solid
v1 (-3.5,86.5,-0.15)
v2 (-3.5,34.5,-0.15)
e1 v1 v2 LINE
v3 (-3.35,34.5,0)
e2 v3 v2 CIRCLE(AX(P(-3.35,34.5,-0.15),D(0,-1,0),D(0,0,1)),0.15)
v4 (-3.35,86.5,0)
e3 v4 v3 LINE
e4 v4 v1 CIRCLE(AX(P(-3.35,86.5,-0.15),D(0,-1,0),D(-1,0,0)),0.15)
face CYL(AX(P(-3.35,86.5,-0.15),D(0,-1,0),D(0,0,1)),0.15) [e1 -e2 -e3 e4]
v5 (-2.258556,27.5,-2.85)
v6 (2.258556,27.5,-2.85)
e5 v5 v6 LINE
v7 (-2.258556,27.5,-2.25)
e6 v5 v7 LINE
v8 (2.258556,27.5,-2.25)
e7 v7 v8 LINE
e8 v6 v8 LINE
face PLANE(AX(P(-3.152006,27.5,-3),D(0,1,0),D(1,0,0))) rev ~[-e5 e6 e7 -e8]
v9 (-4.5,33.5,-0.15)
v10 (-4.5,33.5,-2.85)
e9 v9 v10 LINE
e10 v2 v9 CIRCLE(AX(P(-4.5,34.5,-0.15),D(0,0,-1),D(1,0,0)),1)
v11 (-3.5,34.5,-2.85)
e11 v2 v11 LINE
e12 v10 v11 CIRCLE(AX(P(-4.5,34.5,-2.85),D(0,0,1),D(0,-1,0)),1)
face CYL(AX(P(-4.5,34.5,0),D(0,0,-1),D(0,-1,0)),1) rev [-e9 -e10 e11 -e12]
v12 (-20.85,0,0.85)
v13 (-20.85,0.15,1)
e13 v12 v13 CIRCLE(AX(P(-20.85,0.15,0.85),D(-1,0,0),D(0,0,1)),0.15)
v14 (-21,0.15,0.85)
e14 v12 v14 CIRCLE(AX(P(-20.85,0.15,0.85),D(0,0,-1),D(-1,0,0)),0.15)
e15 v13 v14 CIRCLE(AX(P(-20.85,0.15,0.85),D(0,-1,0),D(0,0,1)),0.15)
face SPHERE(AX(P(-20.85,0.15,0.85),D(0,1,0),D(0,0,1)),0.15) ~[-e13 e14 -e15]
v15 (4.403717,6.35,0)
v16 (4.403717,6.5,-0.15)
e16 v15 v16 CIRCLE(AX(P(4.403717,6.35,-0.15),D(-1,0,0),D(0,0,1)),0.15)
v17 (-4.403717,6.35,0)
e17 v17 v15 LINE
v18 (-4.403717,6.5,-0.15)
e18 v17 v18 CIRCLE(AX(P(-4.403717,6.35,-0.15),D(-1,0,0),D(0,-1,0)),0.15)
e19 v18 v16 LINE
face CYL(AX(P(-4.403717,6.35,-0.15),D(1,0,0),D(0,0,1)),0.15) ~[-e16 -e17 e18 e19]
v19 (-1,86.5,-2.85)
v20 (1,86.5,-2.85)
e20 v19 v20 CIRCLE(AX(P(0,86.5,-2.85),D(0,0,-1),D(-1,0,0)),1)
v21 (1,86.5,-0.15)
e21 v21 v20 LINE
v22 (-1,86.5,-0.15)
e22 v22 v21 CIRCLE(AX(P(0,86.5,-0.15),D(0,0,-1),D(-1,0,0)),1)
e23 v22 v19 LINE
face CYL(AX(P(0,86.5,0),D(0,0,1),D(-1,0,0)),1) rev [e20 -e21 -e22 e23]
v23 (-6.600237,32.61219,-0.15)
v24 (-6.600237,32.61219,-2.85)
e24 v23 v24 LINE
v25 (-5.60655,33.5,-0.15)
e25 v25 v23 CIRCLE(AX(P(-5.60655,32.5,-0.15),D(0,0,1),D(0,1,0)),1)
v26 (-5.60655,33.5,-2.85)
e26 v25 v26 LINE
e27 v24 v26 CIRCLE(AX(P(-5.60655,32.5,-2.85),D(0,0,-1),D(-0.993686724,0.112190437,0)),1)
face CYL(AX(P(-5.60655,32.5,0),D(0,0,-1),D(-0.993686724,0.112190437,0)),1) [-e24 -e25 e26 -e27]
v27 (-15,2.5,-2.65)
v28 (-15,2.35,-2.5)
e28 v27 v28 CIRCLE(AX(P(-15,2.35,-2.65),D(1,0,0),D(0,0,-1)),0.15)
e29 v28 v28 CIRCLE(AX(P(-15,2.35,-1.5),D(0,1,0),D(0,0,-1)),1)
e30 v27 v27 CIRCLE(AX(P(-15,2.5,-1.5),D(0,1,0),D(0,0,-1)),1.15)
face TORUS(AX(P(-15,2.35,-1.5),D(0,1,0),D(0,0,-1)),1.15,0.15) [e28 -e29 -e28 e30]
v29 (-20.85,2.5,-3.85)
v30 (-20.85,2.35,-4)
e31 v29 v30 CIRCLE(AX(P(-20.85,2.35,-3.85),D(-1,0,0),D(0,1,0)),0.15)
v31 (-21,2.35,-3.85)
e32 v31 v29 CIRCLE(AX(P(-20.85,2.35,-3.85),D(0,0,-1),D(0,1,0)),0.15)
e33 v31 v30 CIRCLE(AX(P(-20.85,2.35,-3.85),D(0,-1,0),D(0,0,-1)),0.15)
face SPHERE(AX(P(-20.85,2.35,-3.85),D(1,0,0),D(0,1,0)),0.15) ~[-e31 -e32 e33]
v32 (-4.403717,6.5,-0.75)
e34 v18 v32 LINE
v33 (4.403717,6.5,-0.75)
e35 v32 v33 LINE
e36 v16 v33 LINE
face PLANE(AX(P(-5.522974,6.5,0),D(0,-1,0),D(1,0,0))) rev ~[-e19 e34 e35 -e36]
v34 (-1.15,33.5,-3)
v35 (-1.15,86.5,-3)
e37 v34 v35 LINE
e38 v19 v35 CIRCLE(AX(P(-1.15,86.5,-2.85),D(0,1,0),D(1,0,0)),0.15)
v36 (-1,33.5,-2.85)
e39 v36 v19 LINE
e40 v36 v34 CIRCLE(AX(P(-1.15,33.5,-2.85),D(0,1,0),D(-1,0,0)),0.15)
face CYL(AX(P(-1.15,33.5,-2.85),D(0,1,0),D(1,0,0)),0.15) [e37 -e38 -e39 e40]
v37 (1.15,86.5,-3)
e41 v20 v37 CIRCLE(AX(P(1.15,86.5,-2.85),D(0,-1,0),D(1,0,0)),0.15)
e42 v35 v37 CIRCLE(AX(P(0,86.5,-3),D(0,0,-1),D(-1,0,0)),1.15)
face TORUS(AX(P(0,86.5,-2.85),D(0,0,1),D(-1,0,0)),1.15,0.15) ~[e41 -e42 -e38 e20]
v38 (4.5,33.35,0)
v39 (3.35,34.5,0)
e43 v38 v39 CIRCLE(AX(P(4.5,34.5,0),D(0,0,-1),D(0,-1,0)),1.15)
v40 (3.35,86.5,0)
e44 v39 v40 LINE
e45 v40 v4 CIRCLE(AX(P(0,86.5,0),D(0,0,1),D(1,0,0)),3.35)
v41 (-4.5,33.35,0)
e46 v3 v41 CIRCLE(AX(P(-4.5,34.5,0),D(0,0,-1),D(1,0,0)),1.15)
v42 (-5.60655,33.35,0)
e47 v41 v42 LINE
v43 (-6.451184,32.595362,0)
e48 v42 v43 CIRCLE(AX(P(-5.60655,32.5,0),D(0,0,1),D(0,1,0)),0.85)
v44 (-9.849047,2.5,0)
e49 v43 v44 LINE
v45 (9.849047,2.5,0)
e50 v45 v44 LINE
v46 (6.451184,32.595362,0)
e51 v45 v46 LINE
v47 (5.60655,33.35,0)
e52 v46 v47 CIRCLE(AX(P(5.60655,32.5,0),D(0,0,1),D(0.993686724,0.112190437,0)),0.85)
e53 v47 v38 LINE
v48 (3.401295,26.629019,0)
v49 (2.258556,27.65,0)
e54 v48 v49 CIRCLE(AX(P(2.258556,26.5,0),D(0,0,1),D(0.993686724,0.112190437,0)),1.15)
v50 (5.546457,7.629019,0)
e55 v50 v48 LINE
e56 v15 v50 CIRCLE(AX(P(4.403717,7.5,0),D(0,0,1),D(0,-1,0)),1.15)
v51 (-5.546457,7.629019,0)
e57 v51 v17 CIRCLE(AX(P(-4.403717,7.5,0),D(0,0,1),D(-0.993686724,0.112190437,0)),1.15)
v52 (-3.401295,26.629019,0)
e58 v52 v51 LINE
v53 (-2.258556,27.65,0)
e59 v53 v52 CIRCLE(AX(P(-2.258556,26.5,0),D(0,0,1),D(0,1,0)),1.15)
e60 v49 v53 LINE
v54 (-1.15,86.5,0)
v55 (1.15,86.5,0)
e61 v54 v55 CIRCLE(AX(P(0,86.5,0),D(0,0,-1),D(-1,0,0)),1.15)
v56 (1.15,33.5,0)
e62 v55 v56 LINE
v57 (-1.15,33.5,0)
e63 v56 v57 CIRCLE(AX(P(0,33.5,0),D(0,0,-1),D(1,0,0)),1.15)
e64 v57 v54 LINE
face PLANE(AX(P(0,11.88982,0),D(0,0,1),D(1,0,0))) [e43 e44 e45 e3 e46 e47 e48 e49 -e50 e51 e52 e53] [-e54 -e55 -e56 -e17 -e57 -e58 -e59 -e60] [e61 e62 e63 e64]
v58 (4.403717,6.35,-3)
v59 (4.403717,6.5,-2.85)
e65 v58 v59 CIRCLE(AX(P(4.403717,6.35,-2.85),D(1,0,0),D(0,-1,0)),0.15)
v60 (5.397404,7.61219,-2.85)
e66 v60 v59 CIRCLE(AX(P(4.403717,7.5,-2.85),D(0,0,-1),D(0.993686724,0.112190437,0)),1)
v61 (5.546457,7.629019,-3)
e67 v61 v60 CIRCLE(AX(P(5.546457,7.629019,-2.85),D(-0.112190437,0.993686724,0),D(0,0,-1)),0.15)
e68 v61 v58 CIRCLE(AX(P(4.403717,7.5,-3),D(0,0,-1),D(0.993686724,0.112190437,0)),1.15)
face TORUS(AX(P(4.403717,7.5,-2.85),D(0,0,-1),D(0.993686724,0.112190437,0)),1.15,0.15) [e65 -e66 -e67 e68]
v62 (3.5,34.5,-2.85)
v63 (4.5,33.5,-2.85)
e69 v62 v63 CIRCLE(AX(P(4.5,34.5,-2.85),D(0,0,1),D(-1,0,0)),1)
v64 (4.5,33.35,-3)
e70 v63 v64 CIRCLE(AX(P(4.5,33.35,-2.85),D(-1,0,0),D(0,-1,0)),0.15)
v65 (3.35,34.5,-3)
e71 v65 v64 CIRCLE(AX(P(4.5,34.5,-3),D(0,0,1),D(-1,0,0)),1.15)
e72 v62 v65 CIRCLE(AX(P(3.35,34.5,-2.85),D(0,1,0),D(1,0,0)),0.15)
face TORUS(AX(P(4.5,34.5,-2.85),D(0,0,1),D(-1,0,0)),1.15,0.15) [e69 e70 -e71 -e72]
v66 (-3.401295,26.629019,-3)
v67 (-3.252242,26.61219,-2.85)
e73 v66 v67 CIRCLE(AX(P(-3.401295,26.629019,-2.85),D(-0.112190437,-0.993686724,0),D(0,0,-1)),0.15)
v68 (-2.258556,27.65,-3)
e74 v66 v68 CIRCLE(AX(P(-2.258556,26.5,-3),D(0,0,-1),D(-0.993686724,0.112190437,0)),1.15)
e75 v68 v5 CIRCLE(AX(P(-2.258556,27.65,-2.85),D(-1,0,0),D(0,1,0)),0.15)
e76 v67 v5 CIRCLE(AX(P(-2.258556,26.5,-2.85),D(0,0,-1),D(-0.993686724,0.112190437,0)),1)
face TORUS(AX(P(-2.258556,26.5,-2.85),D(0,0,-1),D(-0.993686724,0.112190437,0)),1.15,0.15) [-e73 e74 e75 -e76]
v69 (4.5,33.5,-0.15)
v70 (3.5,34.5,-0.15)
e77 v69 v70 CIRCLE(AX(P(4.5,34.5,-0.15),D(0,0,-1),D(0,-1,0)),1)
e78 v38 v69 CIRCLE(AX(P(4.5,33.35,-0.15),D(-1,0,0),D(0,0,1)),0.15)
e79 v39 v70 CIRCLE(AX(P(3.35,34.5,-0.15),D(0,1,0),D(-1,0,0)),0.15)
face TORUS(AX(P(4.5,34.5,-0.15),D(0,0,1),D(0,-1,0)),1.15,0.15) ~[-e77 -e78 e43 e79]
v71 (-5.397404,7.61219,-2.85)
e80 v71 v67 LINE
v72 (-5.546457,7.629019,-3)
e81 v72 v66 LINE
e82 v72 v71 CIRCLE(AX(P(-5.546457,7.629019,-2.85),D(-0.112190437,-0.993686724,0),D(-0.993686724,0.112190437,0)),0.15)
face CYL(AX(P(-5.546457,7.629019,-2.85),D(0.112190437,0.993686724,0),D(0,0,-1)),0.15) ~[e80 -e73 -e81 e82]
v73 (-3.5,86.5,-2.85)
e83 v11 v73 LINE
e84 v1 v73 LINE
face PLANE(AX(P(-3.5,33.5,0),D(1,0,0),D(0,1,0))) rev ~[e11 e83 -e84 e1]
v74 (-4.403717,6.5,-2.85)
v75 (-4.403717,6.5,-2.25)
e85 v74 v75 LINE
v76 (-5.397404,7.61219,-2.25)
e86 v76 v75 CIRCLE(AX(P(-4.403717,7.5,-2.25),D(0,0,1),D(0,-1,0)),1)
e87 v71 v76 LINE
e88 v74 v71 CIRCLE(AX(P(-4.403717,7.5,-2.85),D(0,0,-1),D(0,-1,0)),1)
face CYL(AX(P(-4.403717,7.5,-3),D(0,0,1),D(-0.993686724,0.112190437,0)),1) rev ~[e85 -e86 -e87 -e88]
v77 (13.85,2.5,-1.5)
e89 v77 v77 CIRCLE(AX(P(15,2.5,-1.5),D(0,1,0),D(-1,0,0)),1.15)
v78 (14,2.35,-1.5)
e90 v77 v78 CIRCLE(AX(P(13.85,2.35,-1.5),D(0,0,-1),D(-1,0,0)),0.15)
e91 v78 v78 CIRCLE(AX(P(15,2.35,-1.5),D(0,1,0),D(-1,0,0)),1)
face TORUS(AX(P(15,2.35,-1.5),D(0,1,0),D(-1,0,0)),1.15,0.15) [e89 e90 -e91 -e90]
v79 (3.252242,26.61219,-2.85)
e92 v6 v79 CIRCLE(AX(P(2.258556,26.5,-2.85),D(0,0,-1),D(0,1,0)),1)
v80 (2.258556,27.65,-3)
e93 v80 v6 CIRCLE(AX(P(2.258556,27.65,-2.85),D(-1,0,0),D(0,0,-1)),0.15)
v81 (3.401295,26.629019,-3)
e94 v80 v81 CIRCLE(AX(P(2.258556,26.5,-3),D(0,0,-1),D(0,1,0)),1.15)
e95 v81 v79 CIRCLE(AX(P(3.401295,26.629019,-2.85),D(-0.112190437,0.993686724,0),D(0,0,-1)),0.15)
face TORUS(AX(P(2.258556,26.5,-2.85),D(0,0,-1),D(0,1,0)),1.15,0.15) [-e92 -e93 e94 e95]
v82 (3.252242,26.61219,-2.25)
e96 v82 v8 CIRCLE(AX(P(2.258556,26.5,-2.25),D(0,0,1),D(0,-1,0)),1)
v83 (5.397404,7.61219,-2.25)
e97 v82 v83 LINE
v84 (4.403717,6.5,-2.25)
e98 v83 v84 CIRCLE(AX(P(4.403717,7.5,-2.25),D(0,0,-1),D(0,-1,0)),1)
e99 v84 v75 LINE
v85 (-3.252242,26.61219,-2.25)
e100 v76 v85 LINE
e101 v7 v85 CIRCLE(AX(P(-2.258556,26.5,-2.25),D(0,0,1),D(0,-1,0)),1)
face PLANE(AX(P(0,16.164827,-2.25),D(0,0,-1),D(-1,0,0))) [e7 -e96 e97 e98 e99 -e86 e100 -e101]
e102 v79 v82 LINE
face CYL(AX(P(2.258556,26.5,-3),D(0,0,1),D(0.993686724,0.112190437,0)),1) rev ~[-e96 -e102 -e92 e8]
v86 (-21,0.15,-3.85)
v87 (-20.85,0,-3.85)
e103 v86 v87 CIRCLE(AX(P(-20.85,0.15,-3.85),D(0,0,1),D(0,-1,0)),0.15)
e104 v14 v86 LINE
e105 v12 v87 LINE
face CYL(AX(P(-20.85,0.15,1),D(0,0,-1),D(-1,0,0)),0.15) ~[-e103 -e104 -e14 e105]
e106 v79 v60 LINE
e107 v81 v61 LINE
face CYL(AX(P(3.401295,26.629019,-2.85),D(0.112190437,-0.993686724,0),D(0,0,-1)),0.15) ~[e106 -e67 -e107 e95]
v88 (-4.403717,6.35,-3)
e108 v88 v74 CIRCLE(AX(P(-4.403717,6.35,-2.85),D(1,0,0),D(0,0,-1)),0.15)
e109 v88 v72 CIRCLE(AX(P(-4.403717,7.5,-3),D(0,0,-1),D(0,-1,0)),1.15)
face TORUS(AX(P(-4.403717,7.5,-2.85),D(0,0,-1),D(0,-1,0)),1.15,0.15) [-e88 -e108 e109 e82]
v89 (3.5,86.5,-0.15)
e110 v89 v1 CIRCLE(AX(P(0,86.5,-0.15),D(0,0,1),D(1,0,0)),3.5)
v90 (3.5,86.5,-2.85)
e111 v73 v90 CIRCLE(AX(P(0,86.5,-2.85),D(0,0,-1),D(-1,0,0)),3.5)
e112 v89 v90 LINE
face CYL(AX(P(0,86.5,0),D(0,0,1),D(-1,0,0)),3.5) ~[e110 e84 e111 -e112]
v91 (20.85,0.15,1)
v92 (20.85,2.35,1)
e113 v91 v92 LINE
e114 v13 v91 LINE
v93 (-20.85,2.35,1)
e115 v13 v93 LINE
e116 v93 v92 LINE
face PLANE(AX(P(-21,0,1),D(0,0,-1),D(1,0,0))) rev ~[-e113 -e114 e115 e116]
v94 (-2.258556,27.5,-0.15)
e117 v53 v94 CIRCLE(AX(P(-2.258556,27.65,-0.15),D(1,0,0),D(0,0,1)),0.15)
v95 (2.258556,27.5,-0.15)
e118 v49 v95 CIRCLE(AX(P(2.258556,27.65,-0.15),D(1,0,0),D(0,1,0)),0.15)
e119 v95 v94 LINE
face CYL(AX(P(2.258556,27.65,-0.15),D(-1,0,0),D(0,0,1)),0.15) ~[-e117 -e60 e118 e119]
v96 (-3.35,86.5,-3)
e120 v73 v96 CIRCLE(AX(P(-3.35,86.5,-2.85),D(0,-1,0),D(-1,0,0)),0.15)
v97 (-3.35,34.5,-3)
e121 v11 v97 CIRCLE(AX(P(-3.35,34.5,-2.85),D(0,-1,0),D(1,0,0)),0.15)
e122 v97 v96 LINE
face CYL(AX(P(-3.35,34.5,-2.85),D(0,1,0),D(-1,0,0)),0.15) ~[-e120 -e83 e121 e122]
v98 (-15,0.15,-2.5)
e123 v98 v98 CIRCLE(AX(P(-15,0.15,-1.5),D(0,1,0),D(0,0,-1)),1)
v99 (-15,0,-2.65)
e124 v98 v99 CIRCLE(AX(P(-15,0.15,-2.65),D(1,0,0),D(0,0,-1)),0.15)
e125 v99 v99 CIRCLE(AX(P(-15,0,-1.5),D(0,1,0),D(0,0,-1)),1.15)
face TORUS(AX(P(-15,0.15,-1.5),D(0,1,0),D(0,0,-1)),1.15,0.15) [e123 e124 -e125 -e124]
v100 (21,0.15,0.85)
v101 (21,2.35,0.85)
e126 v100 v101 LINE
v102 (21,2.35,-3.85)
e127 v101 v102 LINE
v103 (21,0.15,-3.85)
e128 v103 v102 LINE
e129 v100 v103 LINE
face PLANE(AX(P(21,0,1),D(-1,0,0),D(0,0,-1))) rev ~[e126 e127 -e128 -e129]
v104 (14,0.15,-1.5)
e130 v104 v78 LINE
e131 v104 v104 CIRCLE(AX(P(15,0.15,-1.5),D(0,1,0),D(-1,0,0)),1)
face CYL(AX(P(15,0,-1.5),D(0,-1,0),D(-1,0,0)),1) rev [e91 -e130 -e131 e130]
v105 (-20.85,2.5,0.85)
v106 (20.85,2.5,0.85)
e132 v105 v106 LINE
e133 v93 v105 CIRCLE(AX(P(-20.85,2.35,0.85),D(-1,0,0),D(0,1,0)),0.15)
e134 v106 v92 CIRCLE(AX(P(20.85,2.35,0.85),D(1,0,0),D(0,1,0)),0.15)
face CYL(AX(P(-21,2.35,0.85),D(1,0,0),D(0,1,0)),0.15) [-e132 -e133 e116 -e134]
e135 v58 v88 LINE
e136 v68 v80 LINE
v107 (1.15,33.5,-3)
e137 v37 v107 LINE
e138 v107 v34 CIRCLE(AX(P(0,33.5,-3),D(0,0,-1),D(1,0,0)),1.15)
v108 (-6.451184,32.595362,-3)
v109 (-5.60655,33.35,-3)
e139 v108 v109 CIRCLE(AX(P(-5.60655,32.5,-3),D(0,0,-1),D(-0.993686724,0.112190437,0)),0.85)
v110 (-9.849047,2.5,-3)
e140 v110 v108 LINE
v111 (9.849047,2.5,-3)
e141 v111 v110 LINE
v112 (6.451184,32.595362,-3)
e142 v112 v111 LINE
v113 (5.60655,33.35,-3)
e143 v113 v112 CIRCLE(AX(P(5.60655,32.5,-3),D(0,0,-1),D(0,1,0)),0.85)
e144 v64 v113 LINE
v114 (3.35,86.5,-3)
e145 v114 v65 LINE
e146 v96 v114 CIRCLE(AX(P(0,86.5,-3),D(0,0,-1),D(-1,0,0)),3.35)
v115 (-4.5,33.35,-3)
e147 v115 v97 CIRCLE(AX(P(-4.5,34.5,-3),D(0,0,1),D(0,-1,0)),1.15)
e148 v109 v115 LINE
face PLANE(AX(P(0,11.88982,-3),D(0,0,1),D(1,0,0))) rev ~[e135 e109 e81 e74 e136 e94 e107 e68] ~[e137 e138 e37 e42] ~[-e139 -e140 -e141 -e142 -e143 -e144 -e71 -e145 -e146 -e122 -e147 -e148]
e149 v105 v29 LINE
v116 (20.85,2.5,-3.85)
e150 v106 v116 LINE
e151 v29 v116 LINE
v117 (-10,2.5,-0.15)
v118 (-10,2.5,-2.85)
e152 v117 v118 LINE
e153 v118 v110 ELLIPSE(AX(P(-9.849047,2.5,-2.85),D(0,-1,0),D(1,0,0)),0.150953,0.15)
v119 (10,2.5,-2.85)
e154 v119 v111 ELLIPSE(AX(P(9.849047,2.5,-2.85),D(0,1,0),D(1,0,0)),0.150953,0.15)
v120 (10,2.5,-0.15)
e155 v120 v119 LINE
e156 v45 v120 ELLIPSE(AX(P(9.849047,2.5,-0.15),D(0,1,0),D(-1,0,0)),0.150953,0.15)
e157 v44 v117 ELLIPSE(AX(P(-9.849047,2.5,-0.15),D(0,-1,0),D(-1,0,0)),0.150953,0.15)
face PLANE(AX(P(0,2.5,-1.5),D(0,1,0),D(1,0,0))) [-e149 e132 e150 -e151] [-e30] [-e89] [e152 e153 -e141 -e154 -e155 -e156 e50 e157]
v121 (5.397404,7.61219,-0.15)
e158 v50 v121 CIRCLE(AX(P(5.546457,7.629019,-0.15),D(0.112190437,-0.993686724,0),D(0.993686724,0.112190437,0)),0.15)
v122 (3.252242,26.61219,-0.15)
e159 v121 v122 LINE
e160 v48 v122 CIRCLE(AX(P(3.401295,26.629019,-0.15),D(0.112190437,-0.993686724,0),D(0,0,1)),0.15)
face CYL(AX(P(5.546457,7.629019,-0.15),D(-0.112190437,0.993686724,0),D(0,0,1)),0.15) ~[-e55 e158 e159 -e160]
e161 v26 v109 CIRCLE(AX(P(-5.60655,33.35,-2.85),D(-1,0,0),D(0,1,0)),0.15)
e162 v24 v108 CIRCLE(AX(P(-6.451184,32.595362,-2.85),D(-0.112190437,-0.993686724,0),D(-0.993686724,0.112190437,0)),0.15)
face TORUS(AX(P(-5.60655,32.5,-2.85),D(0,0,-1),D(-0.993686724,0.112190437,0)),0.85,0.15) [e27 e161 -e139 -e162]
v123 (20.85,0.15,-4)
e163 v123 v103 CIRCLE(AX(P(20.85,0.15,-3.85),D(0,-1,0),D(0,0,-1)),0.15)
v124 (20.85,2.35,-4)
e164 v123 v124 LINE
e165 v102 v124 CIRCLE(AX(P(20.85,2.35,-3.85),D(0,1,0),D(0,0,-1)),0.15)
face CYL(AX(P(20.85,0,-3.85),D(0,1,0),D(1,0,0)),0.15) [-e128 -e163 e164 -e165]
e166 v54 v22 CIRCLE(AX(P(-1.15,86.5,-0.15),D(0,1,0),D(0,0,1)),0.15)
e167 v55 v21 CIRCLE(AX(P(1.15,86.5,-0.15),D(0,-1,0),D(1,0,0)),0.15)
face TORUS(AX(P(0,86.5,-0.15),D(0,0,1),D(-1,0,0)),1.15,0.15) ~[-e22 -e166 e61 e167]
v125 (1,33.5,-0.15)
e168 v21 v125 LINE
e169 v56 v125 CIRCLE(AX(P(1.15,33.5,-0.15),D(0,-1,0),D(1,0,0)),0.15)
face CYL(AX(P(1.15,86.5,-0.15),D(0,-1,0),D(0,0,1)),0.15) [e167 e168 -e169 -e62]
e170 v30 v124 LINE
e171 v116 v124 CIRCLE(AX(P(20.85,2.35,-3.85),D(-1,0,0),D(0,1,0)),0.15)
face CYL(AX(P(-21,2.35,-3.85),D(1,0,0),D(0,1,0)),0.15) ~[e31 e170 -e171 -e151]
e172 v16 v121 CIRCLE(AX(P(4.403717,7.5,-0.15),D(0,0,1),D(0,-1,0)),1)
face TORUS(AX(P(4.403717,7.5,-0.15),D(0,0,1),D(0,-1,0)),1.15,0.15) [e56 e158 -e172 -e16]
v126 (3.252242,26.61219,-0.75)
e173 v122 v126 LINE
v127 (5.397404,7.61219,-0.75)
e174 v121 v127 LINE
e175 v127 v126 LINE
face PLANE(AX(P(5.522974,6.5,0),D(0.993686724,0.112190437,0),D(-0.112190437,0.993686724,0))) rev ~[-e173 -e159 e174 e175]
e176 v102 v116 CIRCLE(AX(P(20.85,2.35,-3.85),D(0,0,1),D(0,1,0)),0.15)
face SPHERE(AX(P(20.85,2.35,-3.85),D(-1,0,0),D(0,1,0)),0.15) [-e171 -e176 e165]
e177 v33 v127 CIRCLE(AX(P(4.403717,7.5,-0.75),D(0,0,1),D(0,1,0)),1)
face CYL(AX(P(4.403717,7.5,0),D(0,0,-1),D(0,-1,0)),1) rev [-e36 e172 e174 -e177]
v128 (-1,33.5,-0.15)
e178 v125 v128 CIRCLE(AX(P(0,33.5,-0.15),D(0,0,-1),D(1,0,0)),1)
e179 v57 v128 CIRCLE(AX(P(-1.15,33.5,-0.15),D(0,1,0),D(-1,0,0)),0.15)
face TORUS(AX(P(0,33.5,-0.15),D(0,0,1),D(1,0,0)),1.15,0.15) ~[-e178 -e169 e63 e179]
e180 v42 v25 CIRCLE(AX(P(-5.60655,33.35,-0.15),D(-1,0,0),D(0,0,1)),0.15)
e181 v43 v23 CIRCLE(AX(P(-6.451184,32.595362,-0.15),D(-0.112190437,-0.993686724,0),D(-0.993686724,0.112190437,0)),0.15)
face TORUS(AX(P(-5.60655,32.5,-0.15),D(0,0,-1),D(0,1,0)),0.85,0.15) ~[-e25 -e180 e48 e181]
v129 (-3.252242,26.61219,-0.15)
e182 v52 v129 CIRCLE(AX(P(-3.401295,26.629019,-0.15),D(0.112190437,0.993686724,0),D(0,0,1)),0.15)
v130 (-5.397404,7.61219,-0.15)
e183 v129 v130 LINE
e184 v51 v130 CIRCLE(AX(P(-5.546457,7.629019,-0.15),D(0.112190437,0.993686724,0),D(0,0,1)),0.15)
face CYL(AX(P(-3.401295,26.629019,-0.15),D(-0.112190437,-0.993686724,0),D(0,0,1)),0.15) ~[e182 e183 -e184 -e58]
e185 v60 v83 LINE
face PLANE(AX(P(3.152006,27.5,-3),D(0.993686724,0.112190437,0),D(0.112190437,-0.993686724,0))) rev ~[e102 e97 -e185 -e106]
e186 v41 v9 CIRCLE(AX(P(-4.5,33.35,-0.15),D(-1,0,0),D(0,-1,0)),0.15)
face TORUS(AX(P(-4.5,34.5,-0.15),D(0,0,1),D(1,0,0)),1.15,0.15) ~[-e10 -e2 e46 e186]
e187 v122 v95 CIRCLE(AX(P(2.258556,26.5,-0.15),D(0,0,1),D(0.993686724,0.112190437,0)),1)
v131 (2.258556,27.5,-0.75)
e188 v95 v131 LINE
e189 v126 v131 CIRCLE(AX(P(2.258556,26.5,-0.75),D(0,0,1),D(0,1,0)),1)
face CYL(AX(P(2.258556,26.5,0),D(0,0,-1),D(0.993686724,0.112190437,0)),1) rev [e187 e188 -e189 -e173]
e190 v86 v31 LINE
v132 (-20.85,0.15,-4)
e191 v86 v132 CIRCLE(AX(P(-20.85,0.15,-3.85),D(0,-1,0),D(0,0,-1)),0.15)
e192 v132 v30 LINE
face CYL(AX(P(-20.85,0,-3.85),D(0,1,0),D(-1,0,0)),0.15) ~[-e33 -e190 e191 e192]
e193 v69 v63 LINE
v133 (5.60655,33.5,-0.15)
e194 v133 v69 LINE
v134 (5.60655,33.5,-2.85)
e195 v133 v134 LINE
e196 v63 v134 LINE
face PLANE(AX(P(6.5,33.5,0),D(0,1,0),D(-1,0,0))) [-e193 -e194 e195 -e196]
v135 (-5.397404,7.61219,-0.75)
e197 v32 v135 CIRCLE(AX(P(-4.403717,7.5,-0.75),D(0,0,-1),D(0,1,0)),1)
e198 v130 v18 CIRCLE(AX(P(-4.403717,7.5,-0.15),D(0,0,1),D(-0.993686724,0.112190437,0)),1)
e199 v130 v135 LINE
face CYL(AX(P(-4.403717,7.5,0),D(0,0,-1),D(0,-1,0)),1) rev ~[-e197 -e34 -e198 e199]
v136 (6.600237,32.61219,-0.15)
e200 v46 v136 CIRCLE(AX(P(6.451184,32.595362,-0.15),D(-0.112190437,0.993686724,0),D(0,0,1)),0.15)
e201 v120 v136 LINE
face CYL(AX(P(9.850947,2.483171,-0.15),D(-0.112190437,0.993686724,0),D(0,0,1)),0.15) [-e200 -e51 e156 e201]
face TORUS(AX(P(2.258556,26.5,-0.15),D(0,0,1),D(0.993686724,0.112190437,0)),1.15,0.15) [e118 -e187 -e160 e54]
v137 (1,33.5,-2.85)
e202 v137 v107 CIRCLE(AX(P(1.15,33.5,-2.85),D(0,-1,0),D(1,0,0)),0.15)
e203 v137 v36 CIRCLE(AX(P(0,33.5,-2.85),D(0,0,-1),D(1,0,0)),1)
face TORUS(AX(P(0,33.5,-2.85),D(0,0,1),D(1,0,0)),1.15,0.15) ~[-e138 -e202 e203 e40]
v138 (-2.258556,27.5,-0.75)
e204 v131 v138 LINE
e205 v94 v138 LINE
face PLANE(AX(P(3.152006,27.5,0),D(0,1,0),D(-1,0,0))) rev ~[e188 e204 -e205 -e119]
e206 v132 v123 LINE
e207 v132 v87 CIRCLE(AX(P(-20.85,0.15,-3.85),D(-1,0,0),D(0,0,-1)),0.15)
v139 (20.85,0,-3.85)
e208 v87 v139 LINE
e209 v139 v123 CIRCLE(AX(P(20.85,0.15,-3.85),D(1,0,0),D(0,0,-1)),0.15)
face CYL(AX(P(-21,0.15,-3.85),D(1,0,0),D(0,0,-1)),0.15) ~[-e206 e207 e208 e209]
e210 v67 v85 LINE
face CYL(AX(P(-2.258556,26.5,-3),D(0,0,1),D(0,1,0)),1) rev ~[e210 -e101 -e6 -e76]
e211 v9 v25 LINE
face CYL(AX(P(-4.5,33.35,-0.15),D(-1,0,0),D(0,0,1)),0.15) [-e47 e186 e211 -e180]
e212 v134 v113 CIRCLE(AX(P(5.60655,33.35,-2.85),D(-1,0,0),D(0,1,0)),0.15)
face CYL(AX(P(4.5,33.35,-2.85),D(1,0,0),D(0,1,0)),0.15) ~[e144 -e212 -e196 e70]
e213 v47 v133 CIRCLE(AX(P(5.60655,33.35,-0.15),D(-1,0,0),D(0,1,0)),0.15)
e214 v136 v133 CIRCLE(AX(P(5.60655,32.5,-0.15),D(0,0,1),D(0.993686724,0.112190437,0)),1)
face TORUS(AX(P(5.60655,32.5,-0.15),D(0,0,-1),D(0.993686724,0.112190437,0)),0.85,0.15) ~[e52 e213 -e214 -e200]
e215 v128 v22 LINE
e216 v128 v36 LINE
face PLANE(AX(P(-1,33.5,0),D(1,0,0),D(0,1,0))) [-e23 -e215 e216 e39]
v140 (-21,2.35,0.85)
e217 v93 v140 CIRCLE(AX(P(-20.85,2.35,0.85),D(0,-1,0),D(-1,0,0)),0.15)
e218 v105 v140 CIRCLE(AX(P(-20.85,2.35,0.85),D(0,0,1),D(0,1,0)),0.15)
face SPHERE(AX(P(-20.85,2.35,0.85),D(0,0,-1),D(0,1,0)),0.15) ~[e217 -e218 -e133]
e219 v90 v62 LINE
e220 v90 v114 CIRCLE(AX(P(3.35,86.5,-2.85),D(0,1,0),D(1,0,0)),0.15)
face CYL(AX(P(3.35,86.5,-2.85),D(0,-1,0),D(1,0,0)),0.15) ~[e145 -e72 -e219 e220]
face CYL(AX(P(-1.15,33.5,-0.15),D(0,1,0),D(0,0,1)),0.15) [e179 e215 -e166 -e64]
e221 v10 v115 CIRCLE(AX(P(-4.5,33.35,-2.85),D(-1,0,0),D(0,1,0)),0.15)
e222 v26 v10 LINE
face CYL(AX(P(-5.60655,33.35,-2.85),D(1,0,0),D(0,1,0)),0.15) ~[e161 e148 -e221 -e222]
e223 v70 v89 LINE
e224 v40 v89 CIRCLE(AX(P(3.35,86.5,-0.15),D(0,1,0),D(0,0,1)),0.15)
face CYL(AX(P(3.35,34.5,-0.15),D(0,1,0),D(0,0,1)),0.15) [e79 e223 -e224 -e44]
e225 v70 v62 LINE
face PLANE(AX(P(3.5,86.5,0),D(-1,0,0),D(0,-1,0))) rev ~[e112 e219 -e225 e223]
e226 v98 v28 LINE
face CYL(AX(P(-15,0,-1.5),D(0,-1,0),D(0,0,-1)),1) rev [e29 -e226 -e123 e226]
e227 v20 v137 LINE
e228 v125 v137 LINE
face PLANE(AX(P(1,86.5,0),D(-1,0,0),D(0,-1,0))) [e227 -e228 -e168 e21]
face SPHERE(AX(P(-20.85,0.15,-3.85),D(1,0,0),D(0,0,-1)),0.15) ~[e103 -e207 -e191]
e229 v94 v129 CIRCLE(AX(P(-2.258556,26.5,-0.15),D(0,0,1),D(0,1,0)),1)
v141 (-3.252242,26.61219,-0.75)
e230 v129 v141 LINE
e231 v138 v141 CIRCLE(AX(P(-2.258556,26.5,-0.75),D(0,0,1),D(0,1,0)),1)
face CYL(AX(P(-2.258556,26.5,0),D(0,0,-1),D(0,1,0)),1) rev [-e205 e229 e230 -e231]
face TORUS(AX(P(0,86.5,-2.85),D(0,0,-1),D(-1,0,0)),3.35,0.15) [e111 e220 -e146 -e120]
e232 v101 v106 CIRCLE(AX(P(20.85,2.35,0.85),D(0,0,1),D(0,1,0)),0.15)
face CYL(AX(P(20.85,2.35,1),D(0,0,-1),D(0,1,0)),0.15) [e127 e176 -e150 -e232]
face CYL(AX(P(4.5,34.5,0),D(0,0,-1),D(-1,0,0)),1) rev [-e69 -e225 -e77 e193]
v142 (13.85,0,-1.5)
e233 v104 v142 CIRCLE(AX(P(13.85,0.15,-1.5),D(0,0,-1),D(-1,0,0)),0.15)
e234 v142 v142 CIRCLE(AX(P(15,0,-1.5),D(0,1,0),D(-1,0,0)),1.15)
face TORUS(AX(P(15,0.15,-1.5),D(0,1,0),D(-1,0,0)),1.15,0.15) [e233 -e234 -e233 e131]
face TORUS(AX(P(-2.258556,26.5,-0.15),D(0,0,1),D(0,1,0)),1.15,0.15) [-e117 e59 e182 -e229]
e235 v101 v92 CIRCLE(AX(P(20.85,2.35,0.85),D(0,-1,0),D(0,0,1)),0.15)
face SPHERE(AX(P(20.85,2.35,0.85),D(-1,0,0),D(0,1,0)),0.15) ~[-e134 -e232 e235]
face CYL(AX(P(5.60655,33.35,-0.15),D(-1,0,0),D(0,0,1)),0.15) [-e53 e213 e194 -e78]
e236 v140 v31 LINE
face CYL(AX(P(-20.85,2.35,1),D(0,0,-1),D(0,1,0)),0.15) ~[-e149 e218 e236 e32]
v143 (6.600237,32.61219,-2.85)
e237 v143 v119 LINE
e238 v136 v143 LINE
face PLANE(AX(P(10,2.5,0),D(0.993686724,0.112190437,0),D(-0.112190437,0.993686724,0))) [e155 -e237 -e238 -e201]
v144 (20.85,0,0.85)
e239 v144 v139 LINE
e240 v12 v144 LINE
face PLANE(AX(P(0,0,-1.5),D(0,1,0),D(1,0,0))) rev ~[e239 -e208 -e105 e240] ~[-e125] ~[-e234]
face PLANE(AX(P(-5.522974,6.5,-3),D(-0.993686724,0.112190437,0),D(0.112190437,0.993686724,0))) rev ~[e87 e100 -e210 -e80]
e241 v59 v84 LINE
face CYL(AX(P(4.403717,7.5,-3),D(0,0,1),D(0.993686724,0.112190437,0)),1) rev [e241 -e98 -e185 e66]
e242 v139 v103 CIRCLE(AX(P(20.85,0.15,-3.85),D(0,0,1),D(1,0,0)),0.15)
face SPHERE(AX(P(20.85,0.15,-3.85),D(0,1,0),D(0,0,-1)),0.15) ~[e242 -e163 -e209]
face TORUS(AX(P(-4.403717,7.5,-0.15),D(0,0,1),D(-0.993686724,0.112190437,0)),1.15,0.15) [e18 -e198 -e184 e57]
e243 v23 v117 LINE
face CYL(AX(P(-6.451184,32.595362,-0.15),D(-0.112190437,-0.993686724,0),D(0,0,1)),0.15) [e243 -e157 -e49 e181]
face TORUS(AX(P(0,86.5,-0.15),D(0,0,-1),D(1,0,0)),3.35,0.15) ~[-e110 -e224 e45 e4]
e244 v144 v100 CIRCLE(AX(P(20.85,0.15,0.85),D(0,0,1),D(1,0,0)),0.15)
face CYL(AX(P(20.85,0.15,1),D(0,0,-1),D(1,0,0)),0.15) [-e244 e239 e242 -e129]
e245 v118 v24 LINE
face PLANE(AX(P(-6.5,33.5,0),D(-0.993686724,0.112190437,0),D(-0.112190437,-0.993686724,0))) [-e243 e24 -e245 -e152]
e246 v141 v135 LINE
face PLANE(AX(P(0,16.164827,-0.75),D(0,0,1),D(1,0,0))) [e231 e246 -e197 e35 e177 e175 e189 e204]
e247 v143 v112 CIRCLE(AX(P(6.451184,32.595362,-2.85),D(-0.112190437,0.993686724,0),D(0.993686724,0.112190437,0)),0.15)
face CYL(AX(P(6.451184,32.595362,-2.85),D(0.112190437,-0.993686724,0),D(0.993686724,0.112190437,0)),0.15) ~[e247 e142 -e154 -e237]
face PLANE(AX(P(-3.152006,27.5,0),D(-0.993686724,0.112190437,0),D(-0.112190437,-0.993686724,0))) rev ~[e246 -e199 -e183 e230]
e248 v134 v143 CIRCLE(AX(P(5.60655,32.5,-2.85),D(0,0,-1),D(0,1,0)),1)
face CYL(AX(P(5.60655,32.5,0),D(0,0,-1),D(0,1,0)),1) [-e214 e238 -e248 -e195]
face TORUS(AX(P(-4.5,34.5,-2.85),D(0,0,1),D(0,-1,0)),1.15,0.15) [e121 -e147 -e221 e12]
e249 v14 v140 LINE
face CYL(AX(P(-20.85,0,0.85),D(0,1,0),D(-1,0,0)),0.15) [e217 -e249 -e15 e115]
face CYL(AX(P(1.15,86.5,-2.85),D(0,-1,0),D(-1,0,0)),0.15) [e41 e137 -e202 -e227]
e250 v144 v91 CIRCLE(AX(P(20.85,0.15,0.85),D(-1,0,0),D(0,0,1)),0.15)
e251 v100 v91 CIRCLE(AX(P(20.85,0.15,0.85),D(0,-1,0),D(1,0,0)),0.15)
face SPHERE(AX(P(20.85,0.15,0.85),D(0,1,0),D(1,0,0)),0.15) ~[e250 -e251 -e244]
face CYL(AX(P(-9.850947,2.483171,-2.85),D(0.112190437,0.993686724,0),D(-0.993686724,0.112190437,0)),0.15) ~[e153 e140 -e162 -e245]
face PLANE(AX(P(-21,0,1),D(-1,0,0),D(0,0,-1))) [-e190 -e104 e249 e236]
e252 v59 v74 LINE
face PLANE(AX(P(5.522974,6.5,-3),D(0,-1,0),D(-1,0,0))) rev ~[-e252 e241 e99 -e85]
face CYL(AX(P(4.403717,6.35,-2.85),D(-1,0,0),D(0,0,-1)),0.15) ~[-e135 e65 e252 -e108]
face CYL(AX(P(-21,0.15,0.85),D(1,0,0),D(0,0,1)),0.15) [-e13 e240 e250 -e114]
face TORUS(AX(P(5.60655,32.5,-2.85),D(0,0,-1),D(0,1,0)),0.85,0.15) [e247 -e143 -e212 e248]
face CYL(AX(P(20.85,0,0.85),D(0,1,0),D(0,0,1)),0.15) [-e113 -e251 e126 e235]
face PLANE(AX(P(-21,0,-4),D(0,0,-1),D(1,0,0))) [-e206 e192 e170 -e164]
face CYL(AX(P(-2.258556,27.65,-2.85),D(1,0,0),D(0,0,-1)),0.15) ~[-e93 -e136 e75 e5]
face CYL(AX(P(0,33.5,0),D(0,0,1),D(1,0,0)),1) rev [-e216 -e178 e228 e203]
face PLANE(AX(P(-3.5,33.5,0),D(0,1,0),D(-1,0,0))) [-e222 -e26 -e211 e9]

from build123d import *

# Parameters (mm, degrees)
BOSS_EXTRUDE1_DEPTH = 3
BOSS_EXTRUDE2_DEPTH = 3
SKETCH3_R           = 1
CUT_EXTRUDE1_DEPTH  = 2.5
SKETCH4_W           = 42
SKETCH4_H           = 5
SKETCH4_R           = 1
BOSS_EXTRUDE3_DEPTH = 2.5
FILLET1_R           = 1
CUT_EXTRUDE2_DEPTH  = 0.75
CUT_EXTRUDE3_DEPTH  = 0.75
FILLET2_R           = 1
FILLET3_R           = 0.15


with BuildPart() as part:
    # Sketch1 → Boss-Extrude1 (new body)
    with BuildSketch(Plane.XY):
        with BuildLine():
            Line((-3.5, 33.5), (-3.5, 86.5))
            ThreePointArc((-3.5, 86.5), (0, 90), (3.5, 86.5))
            Line((3.5, 86.5), (3.5, 33.5))
            ThreePointArc((3.5, 33.5), (0, 30), (-3.5, 33.5))
        make_face()
        with BuildLine():
            Line((-1, 33.5), (-1, 86.5))
            ThreePointArc((-1, 86.5), (0, 87.5), (1, 86.5))
            Line((1, 86.5), (1, 33.5))
            ThreePointArc((1, 33.5), (0, 32.5), (-1, 33.5))
        make_face(mode=Mode.SUBTRACT)
    extrude(amount=-BOSS_EXTRUDE1_DEPTH)

    # Sketch2 → Boss-Extrude2 (add)
    with BuildSketch(Plane.XY):
        with BuildLine():
            Line((-20, 0), (20, 0))
            Line((20, 0), (20, 2.5))
            Line((20, 2.5), (10, 2.5))
            Line((10, 2.5), (6.5, 33.5))
            Line((6.5, 33.5), (3.5, 33.5))
            ThreePointArc((3.5, 33.5), (0, 30), (-3.5, 33.5))
            Line((-3.5, 33.5), (-6.5, 33.5))
            Line((-6.5, 33.5), (-10, 2.5))
            Line((-10, 2.5), (-20, 2.5))
            Line((-20, 2.5), (-20, 0))
        make_face()
    extrude(amount=-BOSS_EXTRUDE2_DEPTH)

    # Sketch3 → Cut-Extrude1 (cut)
    with BuildSketch(Plane(origin=(0, 0, 0), x_dir=(1, 0, 0), z_dir=(0, 1, 0))):
        with Locations(Location((15, 1.5, 0), (0, 0, 180))):
            Circle(SKETCH3_R)
        with Locations(Location((-15, 1.5, 0), (0, 0, 90))):
            Circle(SKETCH3_R)
    extrude(amount=CUT_EXTRUDE1_DEPTH, mode=Mode.SUBTRACT)

    # Sketch4 → Boss-Extrude3 (add)
    with BuildSketch(Plane(origin=(0, 0, 0), x_dir=(1, 0, 0), z_dir=(0, 1, 0))):
        with Locations((0, 1.5)):
            Rectangle(SKETCH4_W, SKETCH4_H)
        with Locations(Location((15, 1.5, 0), (0, 0, 180))):
            Circle(SKETCH4_R, mode=Mode.SUBTRACT)
        with Locations(Location((-15, 1.5, 0), (0, 0, 90))):
            Circle(SKETCH4_R, mode=Mode.SUBTRACT)
    extrude(amount=BOSS_EXTRUDE3_DEPTH)

    # Fillet1
    fillet1_edges = [part.edges().sort_by_distance(p)[0] for p in [
        (-6.5, 33.5, -1.5),
        (6.5, 33.5, -1.5),
        (-3.5, 33.5, -1.5),
        (3.5, 33.5, -1.5),
    ]]
    fillet(fillet1_edges, radius=FILLET1_R)

    # Sketch5 → Cut-Extrude2 (cut)
    with BuildSketch(Plane.XY):
        Polygon((-5.522973551, 6.5), (5.522973551, 6.5), (3.152005809, 27.5), (-3.152005809, 27.5), align=None)
    extrude(amount=-CUT_EXTRUDE2_DEPTH, mode=Mode.SUBTRACT)

    # Sketch6 → Cut-Extrude3 (cut)
    with BuildSketch(Plane(origin=(0, 0, -3), x_dir=(-1, 0, 0), z_dir=(0, 0, -1))):
        Polygon((-5.522973551, 6.5), (5.522973551, 6.5), (3.152005809, 27.5), (-3.152005809, 27.5), align=None)
    extrude(amount=-CUT_EXTRUDE3_DEPTH, mode=Mode.SUBTRACT)

    # Fillet2
    fillet2_edges = [part.edges().sort_by_distance(p)[0] for p in [
        (-5.522973551, 6.5, -0.375),
        (-3.152005809, 27.5, -0.375),
        (3.152005809, 27.5, -0.375),
        (5.522973551, 6.5, -0.375),
        (5.522973551, 6.5, -2.625),
        (3.152005809, 27.5, -2.625),
        (-3.152005809, 27.5, -2.625),
        (-5.522973551, 6.5, -2.625),
    ]]
    fillet(fillet2_edges, radius=FILLET2_R)

    # Fillet3
    fillet3_edges = [part.edges().sort_by_distance(p)[0] for p in [
        (-3.792893219, 33.792893219, -3),
        (0, 90, -3),
        (4.324823018, 17.112190437, -3),
        (0, 27.5, -3),
        (0, 32.5, -3),
        (-4.324823018, 17.112190437, -3),
        (0, 6.5, -3),
        (-1, 60, -3),
        (-4.324823018, 17.112190437, 0),
        (0, 27.5, 0),
        (0, 87.5, -3),
        (1, 60, -3),
        (4.324823018, 17.112190437, 0),
        (0, 6.5, 0),
        (2.924817445, 27.245717921, -3),
        (0, 32.5, 0),
        (-2.924817445, 27.245717921, -3),
        (-3.5, 60.5, -3),
        (5.14943486, 6.833738203, -3),
        (-5.14943486, 6.833738203, -3),
        (-2.924817445, 27.245717921, 0),
        (2.924817445, 27.245717921, 0),
        (1, 60, 0),
        (5.14943486, 6.833738203, 0),
        (-5.14943486, 6.833738203, 0),
        (0, 87.5, 0),
        (-1, 60, 0),
        (8.300118282, 17.556095218, 0),
        (-8.300118282, 17.556095218, -3),
        (-3.5, 60.5, 0),
        (0, 90, 0),
        (16, 0, -1.5),
        (16, 2.5, -1.5),
        (-15, 0, -0.5),
        (-15, 2.5, -0.5),
        (0, 2.5, -4),
        (-21, 2.5, -1.5),
        (0, 2.5, 1),
        (21, 2.5, -1.5),
        (21, 1.25, -4),
        (0, 0, -4),
        (21, 1.25, 1),
        (21, 0, -1.5),
        (-21, 1.25, 1),
        (0, 0, 1),
        (-21, 1.25, -4),
        (-21, 0, -1.5),
        (5.05327492, 33.5, -3),
        (5.05327492, 33.5, 0),
        (3.5, 60.5, 0),
        (3.5, 60.5, -3),
        (8.300118282, 17.556095218, -3),
        (-5.05327492, 33.5, 0),
        (-8.300118282, 17.556095218, 0),
        (-6.272811636, 33.245717921, 0),
        (6.272811636, 33.245717921, 0),
        (-5.05327492, 33.5, -3),
        (-6.272811636, 33.245717921, -3),
        (6.272811636, 33.245717921, -3),
        (3.792893219, 33.792893219, 0),
        (3.792893219, 33.792893219, -3),
        (-3.792893219, 33.792893219, 0),
    ]]
    fillet(fillet3_edges, radius=FILLET3_R)


solid = part.part
